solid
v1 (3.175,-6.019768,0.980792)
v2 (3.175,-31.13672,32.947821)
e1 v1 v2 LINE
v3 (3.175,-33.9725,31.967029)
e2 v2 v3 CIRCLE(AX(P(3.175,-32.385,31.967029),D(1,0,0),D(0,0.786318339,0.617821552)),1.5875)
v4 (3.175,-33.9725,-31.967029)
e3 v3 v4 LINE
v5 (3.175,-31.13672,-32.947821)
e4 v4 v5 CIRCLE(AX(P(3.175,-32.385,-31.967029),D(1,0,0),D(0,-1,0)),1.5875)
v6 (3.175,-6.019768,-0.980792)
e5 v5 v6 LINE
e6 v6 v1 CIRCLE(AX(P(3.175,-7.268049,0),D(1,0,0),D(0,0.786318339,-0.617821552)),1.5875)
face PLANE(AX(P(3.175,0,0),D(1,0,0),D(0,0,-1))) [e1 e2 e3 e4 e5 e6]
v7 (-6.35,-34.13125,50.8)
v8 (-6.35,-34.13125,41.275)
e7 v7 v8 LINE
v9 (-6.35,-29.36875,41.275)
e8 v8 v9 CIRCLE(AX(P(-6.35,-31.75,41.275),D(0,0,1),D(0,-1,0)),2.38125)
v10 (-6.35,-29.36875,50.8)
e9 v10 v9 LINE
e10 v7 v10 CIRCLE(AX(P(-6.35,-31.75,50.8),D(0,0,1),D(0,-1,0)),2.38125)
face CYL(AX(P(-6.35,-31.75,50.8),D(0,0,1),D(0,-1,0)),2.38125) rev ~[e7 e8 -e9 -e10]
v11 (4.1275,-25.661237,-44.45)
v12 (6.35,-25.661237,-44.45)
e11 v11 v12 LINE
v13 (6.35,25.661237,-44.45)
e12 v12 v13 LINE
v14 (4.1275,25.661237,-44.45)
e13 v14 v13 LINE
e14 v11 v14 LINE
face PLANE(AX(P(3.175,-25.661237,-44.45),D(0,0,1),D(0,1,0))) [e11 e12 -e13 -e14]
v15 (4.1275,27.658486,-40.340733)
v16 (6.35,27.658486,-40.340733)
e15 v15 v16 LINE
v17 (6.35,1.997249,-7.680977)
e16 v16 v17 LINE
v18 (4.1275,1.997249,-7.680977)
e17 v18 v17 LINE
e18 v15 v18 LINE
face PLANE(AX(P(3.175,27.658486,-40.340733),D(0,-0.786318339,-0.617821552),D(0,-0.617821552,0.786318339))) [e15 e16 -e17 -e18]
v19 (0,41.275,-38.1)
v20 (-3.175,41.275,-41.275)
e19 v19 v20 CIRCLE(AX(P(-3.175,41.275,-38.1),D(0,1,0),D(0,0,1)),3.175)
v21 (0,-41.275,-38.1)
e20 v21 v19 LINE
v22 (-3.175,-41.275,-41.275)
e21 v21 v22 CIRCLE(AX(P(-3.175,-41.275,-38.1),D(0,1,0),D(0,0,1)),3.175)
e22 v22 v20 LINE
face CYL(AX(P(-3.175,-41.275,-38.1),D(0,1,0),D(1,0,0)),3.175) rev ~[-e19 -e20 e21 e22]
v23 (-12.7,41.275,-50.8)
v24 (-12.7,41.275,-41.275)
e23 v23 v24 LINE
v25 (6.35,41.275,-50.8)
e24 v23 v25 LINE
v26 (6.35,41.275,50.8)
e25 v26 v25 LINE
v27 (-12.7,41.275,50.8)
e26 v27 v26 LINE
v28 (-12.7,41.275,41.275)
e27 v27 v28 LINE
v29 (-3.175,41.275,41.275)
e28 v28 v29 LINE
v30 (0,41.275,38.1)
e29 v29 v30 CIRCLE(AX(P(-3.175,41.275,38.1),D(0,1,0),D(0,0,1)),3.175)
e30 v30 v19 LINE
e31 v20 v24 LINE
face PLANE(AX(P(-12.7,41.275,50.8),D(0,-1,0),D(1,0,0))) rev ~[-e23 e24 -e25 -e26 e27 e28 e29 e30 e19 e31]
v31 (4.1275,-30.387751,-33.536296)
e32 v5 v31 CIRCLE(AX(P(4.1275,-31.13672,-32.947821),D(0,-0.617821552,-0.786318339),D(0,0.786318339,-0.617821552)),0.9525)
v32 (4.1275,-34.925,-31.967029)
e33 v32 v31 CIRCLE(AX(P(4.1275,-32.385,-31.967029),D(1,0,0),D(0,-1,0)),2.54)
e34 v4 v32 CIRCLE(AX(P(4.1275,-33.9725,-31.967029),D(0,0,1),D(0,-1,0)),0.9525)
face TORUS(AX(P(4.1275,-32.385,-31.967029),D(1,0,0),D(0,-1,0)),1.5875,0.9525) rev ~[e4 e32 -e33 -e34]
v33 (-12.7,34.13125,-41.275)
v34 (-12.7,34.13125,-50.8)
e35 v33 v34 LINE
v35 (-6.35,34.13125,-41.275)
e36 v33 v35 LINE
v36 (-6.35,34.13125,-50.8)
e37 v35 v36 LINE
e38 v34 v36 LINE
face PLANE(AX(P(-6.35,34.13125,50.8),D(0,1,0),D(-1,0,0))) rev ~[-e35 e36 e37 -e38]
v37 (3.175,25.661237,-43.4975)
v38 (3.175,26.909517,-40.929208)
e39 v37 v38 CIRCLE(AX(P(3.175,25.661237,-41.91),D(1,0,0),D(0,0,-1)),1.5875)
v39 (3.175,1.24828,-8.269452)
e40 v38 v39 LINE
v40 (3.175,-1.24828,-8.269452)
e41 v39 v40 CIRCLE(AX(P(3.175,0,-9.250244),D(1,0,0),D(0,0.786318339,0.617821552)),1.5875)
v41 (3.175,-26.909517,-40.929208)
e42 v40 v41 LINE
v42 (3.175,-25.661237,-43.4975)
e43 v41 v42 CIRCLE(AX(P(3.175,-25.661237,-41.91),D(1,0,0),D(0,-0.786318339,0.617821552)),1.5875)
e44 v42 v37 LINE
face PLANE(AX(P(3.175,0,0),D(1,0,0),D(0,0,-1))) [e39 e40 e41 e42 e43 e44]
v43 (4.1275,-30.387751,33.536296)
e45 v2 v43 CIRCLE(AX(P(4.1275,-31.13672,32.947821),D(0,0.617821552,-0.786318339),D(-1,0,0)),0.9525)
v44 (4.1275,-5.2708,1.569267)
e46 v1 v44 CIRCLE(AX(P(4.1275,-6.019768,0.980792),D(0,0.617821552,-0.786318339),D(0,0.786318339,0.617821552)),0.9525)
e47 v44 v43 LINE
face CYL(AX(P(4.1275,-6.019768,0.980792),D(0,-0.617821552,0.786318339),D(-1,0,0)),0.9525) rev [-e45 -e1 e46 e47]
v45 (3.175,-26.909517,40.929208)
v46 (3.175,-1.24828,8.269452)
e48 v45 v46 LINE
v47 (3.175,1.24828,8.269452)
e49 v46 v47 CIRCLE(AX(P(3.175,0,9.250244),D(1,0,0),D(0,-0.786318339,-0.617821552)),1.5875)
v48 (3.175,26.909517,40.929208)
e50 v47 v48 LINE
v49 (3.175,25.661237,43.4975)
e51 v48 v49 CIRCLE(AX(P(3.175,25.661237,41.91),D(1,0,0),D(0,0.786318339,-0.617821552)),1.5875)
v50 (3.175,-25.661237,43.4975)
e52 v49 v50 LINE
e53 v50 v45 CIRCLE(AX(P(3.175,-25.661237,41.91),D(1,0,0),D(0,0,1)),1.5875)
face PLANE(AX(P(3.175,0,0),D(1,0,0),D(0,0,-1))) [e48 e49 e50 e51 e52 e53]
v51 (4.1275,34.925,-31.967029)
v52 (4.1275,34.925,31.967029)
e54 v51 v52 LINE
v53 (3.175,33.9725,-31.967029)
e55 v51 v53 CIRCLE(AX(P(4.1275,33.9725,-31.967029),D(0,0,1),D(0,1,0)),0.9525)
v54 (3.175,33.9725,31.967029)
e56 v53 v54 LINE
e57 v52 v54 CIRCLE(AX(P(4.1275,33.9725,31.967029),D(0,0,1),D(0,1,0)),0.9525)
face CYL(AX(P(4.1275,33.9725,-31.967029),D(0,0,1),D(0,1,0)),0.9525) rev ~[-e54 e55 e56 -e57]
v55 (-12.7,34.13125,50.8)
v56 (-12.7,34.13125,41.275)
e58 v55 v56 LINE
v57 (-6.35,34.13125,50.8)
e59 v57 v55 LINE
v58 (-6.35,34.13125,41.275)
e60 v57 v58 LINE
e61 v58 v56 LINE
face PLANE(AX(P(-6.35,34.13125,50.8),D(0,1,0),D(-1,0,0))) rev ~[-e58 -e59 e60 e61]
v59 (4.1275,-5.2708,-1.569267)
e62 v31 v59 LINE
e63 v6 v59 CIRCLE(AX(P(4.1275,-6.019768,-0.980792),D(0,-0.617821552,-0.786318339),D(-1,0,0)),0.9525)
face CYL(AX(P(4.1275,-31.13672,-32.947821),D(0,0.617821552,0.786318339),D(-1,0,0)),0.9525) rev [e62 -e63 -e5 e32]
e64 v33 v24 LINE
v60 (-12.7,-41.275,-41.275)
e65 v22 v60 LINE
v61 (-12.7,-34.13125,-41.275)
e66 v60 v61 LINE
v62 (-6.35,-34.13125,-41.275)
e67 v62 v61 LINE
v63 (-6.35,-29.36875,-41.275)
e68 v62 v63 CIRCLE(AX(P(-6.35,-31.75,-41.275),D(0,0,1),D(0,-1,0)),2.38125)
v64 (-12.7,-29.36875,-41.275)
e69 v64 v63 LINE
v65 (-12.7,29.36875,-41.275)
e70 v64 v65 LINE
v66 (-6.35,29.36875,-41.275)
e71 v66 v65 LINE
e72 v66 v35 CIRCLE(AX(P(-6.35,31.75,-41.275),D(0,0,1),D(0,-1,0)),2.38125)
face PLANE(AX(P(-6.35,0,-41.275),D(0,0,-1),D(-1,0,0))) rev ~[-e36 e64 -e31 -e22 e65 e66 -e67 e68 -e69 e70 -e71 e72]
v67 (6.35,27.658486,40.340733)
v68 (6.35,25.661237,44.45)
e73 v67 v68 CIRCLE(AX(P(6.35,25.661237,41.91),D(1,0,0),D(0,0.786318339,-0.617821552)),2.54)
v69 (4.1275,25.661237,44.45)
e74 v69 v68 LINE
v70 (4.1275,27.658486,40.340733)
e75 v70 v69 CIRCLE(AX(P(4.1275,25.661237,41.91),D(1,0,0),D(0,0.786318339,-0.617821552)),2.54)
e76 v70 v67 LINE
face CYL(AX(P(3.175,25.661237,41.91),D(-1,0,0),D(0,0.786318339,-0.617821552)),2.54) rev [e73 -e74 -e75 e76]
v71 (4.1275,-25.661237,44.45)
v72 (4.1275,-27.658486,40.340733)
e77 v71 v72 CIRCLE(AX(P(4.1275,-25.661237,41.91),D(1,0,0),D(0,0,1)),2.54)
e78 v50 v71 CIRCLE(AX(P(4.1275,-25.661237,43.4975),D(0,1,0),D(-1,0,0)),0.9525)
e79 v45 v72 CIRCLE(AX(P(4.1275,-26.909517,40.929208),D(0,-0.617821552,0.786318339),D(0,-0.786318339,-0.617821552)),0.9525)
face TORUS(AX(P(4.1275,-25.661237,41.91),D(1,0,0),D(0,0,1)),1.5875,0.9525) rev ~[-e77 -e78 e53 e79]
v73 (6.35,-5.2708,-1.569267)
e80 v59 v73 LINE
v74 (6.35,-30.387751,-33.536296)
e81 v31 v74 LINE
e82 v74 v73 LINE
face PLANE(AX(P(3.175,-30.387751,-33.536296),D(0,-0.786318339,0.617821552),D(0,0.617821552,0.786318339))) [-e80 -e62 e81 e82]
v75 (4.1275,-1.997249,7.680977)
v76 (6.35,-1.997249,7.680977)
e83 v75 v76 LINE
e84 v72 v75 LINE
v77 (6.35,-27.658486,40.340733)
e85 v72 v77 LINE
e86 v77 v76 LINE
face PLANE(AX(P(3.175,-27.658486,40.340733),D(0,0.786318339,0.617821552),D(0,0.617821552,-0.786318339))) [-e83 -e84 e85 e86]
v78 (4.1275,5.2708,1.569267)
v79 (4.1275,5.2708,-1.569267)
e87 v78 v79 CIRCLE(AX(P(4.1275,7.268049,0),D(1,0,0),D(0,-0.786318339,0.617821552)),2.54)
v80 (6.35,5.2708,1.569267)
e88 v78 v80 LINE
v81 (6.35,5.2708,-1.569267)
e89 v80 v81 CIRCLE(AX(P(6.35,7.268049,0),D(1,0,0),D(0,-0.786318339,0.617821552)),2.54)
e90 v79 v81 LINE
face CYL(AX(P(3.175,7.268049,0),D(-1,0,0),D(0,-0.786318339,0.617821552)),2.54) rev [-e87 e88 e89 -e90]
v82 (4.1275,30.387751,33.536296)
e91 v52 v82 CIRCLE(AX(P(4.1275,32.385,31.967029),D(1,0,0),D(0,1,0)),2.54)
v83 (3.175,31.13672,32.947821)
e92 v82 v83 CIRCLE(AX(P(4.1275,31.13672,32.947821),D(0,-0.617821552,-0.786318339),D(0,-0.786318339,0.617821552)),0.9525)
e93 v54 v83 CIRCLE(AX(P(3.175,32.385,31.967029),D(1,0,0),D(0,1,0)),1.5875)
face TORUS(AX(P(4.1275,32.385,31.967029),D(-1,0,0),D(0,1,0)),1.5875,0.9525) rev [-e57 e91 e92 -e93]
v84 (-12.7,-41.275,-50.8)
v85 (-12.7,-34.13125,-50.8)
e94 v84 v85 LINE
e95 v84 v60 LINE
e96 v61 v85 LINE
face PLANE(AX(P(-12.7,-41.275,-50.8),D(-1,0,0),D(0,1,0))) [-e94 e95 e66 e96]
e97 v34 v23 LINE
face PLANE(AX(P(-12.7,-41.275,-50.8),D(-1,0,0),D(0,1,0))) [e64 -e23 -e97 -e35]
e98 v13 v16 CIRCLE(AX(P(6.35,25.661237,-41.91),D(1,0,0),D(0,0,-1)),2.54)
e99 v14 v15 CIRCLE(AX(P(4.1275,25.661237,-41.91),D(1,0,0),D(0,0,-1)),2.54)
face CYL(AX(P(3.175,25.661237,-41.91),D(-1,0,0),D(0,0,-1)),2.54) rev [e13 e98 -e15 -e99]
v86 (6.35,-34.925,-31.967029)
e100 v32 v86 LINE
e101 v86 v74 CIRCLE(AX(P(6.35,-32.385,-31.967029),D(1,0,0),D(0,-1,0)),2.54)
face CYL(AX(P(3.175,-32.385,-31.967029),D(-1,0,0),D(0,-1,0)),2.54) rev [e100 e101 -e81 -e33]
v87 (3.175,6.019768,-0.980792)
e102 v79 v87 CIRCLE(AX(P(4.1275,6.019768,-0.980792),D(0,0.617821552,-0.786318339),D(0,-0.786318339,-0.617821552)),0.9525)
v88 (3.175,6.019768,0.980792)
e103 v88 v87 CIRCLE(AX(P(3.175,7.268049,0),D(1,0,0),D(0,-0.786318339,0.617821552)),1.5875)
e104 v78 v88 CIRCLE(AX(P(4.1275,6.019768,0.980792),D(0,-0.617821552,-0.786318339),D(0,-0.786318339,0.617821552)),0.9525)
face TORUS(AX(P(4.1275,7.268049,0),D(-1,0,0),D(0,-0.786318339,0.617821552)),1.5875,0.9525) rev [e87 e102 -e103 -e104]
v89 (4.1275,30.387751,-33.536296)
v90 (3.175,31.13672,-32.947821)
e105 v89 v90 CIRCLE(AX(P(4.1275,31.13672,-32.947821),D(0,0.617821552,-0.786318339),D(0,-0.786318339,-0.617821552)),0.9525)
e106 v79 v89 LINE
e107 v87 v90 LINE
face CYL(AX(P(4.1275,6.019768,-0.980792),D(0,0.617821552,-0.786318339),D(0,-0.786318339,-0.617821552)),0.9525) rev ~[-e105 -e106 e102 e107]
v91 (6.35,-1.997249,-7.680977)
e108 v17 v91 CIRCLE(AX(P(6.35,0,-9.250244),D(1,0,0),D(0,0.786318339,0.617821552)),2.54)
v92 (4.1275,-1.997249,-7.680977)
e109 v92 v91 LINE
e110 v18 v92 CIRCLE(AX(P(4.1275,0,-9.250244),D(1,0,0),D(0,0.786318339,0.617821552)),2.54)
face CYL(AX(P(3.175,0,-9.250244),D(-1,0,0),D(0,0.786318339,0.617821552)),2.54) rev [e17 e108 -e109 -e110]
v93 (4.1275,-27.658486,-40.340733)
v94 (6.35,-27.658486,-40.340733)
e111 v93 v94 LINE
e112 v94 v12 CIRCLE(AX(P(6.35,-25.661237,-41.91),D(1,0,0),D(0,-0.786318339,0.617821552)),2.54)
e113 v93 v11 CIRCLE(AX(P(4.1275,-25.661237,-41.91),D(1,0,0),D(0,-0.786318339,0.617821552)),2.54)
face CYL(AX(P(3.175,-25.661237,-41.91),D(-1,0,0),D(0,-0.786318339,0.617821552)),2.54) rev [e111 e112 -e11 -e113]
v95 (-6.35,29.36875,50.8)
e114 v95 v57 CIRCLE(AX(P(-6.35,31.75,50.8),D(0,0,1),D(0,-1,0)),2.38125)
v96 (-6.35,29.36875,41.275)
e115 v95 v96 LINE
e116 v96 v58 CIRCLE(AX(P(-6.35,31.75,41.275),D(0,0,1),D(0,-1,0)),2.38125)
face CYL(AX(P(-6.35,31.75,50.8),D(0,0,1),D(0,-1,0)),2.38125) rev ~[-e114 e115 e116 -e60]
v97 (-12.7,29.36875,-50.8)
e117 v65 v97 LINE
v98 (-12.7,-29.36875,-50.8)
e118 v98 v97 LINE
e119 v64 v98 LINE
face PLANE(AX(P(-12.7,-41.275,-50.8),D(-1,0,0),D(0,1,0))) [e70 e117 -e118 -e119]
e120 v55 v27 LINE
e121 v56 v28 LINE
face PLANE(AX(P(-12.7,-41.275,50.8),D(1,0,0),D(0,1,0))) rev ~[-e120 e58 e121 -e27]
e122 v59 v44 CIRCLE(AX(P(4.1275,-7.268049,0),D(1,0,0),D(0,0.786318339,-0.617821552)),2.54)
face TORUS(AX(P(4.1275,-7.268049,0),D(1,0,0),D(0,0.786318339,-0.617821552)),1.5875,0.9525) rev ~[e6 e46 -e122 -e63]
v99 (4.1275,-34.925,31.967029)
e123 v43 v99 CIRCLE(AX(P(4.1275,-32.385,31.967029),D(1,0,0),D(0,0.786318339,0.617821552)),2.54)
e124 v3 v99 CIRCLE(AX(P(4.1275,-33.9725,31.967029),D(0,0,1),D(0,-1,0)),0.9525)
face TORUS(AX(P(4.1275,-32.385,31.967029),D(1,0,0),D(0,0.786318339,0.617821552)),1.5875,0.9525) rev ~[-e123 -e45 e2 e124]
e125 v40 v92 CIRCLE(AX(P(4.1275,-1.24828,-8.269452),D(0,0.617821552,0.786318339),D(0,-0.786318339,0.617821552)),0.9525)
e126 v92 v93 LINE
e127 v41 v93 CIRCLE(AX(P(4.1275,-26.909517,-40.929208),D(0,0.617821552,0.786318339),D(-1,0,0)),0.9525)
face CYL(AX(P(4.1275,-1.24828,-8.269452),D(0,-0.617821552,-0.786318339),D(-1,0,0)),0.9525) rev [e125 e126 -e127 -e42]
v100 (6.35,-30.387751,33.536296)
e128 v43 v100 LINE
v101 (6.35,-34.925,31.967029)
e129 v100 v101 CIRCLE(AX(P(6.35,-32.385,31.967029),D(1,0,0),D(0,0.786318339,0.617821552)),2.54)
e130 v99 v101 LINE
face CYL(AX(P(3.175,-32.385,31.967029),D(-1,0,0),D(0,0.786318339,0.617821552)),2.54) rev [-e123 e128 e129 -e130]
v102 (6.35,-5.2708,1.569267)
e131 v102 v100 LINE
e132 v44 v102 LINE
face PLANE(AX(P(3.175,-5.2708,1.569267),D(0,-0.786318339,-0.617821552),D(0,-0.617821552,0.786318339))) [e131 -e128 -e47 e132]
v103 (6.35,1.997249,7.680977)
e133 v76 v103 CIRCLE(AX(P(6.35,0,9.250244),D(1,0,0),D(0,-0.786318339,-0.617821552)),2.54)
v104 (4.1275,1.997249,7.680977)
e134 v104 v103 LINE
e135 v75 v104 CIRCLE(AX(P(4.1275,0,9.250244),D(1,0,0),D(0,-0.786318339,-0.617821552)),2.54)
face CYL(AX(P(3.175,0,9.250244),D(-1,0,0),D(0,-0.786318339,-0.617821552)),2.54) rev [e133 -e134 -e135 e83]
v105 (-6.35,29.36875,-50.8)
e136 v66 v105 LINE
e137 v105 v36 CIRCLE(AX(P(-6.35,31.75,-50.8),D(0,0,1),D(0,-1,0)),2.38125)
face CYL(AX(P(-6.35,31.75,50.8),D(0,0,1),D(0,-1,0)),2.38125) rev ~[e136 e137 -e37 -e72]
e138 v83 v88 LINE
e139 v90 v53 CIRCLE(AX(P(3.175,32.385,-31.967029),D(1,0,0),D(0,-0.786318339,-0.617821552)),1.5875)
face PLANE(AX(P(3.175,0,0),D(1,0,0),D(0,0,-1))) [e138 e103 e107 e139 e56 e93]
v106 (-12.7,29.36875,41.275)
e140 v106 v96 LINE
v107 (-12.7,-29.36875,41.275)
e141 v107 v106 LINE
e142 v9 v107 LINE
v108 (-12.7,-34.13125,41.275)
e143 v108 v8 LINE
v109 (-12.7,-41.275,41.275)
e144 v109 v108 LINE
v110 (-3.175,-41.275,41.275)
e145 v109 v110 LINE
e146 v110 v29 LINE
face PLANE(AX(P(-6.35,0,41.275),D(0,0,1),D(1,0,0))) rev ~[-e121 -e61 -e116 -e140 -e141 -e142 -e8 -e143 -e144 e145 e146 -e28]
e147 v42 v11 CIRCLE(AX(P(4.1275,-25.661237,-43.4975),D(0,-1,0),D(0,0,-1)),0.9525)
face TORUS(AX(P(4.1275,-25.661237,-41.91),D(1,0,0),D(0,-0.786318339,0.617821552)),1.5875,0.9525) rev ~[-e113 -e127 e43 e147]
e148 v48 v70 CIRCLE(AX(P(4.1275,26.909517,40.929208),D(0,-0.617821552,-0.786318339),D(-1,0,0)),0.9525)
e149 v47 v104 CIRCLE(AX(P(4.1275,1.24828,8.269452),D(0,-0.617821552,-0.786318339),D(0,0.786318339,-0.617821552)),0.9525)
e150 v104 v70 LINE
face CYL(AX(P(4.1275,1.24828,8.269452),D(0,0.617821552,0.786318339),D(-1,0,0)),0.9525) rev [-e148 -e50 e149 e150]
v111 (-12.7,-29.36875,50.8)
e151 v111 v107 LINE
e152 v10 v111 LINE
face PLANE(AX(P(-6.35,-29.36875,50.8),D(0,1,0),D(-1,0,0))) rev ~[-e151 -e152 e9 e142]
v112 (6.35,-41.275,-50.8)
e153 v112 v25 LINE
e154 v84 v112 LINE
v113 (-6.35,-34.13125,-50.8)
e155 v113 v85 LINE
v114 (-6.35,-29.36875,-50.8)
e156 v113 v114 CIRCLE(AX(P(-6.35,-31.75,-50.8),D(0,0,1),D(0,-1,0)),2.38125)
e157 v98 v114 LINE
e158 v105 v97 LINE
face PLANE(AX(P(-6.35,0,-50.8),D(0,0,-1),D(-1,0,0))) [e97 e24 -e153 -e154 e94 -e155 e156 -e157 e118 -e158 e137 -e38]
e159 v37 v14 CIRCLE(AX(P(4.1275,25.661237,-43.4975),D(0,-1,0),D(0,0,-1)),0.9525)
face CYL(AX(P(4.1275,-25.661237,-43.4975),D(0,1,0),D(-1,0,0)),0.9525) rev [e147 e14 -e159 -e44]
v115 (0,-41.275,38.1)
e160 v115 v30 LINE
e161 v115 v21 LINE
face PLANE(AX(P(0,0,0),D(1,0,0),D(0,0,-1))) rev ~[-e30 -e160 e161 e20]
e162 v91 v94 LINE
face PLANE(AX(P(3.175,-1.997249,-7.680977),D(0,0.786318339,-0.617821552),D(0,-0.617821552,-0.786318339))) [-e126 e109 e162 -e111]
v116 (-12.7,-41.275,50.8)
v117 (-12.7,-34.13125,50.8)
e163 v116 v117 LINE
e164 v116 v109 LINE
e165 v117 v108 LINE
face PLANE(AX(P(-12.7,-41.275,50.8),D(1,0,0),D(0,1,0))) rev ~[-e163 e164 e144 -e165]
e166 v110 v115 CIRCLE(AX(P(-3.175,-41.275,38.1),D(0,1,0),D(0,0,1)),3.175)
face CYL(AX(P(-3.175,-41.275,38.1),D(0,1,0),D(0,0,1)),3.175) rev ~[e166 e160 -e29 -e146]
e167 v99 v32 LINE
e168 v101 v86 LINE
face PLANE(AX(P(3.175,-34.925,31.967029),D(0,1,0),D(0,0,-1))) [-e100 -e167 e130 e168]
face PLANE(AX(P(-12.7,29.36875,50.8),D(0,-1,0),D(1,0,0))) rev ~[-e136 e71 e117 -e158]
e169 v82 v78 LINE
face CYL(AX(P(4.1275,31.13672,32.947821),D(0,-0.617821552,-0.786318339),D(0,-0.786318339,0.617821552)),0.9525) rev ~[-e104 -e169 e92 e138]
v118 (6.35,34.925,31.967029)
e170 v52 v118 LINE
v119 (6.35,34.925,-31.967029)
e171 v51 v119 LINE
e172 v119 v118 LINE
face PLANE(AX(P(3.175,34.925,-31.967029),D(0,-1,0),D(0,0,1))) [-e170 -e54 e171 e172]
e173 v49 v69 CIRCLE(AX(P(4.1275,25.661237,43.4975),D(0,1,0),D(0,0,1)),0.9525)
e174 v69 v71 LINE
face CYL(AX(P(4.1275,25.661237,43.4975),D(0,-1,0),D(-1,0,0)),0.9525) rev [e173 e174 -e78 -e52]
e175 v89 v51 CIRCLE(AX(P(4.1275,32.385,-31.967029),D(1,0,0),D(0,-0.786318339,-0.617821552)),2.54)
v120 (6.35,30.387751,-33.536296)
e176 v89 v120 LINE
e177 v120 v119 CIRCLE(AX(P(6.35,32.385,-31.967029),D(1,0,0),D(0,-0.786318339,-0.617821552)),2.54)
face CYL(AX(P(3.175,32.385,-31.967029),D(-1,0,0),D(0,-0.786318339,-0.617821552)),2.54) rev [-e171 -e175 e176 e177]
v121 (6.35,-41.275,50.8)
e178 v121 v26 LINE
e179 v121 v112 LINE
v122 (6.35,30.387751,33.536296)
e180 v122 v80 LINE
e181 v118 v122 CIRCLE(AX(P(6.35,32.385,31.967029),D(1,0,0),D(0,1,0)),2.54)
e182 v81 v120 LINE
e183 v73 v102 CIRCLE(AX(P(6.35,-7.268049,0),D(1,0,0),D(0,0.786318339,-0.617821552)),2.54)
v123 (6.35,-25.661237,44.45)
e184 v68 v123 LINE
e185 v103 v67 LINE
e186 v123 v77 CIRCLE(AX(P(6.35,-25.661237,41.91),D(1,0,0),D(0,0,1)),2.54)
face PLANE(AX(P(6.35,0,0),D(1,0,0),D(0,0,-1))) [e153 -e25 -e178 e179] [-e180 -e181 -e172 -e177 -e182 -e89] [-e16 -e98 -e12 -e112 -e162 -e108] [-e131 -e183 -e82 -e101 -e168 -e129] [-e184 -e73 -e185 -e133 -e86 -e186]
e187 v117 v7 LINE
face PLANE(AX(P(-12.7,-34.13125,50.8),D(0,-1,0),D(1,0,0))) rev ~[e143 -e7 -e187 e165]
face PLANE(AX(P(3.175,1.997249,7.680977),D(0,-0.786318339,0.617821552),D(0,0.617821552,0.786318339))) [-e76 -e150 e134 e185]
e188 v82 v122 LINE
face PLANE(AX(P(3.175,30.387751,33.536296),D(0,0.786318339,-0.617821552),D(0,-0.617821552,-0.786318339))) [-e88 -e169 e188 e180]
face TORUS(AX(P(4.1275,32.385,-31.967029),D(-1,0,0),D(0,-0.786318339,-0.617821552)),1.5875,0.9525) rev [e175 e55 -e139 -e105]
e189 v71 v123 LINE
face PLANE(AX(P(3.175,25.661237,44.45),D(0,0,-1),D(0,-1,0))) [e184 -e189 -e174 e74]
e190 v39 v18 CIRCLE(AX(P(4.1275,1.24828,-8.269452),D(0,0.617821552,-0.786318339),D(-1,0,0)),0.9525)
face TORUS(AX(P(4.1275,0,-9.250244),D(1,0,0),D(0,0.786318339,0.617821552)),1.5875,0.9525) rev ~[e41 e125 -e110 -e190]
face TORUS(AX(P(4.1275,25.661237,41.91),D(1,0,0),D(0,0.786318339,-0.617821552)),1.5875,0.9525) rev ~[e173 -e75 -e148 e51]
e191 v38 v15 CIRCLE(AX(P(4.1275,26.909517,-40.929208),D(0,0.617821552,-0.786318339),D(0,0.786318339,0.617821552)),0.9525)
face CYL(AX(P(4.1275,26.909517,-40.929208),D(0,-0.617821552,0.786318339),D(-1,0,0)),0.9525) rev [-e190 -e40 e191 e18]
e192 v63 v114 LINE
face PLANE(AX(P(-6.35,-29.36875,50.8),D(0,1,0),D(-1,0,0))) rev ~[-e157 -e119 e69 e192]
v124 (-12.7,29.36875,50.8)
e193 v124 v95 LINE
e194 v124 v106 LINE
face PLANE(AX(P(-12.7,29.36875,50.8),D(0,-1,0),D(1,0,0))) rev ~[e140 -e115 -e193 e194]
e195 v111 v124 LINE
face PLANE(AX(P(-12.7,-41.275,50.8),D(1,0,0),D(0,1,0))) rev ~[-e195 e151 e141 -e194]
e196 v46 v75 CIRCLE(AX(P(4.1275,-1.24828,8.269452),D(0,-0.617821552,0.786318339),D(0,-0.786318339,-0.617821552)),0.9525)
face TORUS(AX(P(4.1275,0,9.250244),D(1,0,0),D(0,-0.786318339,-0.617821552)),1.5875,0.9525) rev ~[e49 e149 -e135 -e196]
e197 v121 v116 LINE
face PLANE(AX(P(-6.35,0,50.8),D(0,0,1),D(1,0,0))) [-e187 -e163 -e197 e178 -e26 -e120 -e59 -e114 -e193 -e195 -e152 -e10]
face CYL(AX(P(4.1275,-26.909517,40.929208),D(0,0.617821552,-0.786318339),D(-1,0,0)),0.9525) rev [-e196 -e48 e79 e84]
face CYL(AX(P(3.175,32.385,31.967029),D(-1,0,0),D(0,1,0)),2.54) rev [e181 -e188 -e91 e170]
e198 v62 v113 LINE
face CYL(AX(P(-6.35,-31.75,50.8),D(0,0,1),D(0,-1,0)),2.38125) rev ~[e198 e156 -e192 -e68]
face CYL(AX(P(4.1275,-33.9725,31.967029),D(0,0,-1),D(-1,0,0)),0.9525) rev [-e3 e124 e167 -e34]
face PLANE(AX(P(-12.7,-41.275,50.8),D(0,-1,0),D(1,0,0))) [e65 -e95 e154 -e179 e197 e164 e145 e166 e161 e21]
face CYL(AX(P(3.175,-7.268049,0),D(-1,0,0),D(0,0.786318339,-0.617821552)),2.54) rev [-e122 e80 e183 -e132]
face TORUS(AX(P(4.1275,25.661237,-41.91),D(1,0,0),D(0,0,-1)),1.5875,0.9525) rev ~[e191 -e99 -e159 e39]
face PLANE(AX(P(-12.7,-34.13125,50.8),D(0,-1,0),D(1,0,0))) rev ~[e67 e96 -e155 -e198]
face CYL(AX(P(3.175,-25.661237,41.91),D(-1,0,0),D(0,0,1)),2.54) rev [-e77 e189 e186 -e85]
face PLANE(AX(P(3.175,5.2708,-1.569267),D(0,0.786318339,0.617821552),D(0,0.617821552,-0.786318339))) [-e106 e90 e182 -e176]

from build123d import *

# Parameters (mm, degrees)
SKETCH1_W           = 101.6
SKETCH1_H           = 82.55
BOSS_EXTRUDE1_DEPTH = 3.175
SKETCH2_W           = 101.6
SKETCH2_H           = 82.55
BOSS_EXTRUDE2_DEPTH = 3.175
FILLET1_R           = 0.9525
SKETCH3_W           = 12.7
SKETCH3_H           = 82.55
BOSS_EXTRUDE3_DEPTH = 9.525
SKETCH4_W           = 12.7
SKETCH4_H           = 82.55
BOSS_EXTRUDE4_DEPTH = 9.525
FILLET2_R           = 3.175
CUT_EXTRUDE2_DEPTH  = 111.396900432


with BuildPart() as part:
    # Sketch1 → Boss-Extrude1 (new body)
    with BuildSketch(Plane(origin=(0, 0, 0), x_dir=(0, 0, -1), z_dir=(1, 0, 0))):
        Rectangle(SKETCH1_W, SKETCH1_H)
    extrude(amount=BOSS_EXTRUDE1_DEPTH)

    # Sketch2 → Boss-Extrude2 (add)
    with BuildSketch(Plane(origin=(3.175, 0, 0), x_dir=(0, 0, -1), z_dir=(1, 0, 0))):
        Rectangle(SKETCH2_W, SKETCH2_H)
        with BuildLine():
            ThreePointArc((-40.340733258, 27.65848557), (-43.020329338, 27.945699456), (-44.45, 25.661236989))
            Line((-44.45, 25.661236989), (-44.45, -25.661236989))
            ThreePointArc((-44.45, -25.661236989), (-43.020329338, -27.945699456), (-40.340733258, -27.65848557))
            Line((-40.340733258, -27.65848557), (-7.68097709, -1.997248581))
            ThreePointArc((-7.68097709, -1.997248581), (-6.710243832, 0), (-7.68097709, 1.997248581))
            Line((-7.68097709, 1.997248581), (-40.340733258, 27.65848557))
        make_face(mode=Mode.SUBTRACT)
        with BuildLine():
            Line((33.536295637, -30.387751419), (1.569266742, -5.270800144))
            ThreePointArc((1.569266742, -5.270800144), (0, -4.728048725), (-1.569266742, -5.270800144))
            Line((-1.569266742, -5.270800144), (-33.536295637, -30.387751419))
            ThreePointArc((-33.536295637, -30.387751419), (-34.367509201, -33.215237498), (-31.967028895, -34.925))
            Line((-31.967028895, -34.925), (31.967028895, -34.925))
            ThreePointArc((31.967028895, -34.925), (34.367509201, -33.215237498), (33.536295637, -30.387751419))
        make_face(mode=Mode.SUBTRACT)
        with BuildLine():
            Line((40.340733258, 27.65848557), (7.68097709, 1.997248581))
            ThreePointArc((7.68097709, 1.997248581), (6.710243832, 0), (7.68097709, -1.997248581))
            Line((7.68097709, -1.997248581), (40.340733258, -27.65848557))
            ThreePointArc((40.340733258, -27.65848557), (43.020329338, -27.945699456), (44.45, -25.661236989))
            Line((44.45, -25.661236989), (44.45, 25.661236989))
            ThreePointArc((44.45, 25.661236989), (43.020329338, 27.945699456), (40.340733258, 27.65848557))
        make_face(mode=Mode.SUBTRACT)
        with BuildLine():
            Line((-33.536295637, 30.387751419), (-1.569266742, 5.270800144))
            ThreePointArc((-1.569266742, 5.270800144), (0, 4.728048725), (1.569266742, 5.270800144))
            Line((1.569266742, 5.270800144), (33.536295637, 30.387751419))
            ThreePointArc((33.536295637, 30.387751419), (34.367509201, 33.215237498), (31.967028895, 34.925))
            Line((31.967028895, 34.925), (-31.967028895, 34.925))
            ThreePointArc((-31.967028895, 34.925), (-34.367509201, 33.215237498), (-33.536295637, 30.387751419))
        make_face(mode=Mode.SUBTRACT)
    extrude(amount=BOSS_EXTRUDE2_DEPTH)

    # Fillet1
    fillet1_edges = [part.edges().sort_by_distance(p)[0] for p in [
        (3.175, 33.215237498, 34.367509201),
        (3.175, 17.829275782, -17.55278119),
        (3.175, 27.945699456, -43.020329338),
        (3.175, -33.215237498, -34.367509201),
        (3.175, -34.925, 0),
        (3.175, 0, 6.710243832),
        (3.175, -14.827867075, 24.010855174),
        (3.175, -27.945699456, 43.020329338),
        (3.175, 0, -6.710243832),
        (3.175, -4.728048725, 0),
        (3.175, 0, 44.45),
        (3.175, 4.728048725, 0),
        (3.175, 27.945699456, 43.020329338),
        (3.175, 14.827867075, 24.010855174),
        (3.175, -17.829275782, -17.55278119),
        (3.175, -17.829275782, 17.55278119),
        (3.175, -33.215237498, 34.367509201),
        (3.175, 14.827867075, -24.010855174),
        (3.175, -14.827867075, -24.010855174),
        (3.175, -27.945699456, -43.020329338),
        (3.175, 0, -44.45),
        (3.175, 17.829275782, 17.55278119),
        (3.175, 33.215237498, -34.367509201),
        (3.175, 34.925, 0),
    ]]
    fillet(fillet1_edges, radius=FILLET1_R)

    # Sketch3 → Boss-Extrude3 (add)
    with BuildSketch(Plane(origin=(0, 0, -50.8), x_dir=(-1, 0, 0), z_dir=(0, 0, -1))):
        with Locations((6.35, 0)):
            Rectangle(SKETCH3_W, SKETCH3_H)
    extrude(amount=-BOSS_EXTRUDE3_DEPTH)

    # Sketch4 → Boss-Extrude4 (add)
    with BuildSketch(Plane.XY.offset(50.8)):
        with Locations((-6.35, 0)):
            Rectangle(SKETCH4_W, SKETCH4_H)
    extrude(amount=-BOSS_EXTRUDE4_DEPTH)

    # Fillet2
    fillet2_edges = [part.edges().sort_by_distance(p)[0] for p in [
        (0, 0, 41.275),
        (0, 0, -41.275),
    ]]
    fillet(fillet2_edges, radius=FILLET2_R)

    # Sketch5 → Cut-Extrude2 (cut, through all)
    with BuildSketch(Plane.XY.offset(50.8)):
        with BuildLine():
            Line((-12.7, 29.36875), (-6.35, 29.36875))
            ThreePointArc((-6.35, 29.36875), (-3.96875, 31.75), (-6.35, 34.13125))
            Line((-6.35, 34.13125), (-12.7, 34.13125))
            Line((-12.7, 34.13125), (-12.7, 29.36875))
        make_face()
        with BuildLine():
            Line((-12.7, -34.13125), (-6.35, -34.13125))
            ThreePointArc((-6.35, -34.13125), (-3.96875, -31.75), (-6.35, -29.36875))
            Line((-6.35, -29.36875), (-12.7, -29.36875))
            Line((-12.7, -29.36875), (-12.7, -34.13125))
        make_face()
    extrude(amount=-CUT_EXTRUDE2_DEPTH, mode=Mode.SUBTRACT)


solid = part.part
